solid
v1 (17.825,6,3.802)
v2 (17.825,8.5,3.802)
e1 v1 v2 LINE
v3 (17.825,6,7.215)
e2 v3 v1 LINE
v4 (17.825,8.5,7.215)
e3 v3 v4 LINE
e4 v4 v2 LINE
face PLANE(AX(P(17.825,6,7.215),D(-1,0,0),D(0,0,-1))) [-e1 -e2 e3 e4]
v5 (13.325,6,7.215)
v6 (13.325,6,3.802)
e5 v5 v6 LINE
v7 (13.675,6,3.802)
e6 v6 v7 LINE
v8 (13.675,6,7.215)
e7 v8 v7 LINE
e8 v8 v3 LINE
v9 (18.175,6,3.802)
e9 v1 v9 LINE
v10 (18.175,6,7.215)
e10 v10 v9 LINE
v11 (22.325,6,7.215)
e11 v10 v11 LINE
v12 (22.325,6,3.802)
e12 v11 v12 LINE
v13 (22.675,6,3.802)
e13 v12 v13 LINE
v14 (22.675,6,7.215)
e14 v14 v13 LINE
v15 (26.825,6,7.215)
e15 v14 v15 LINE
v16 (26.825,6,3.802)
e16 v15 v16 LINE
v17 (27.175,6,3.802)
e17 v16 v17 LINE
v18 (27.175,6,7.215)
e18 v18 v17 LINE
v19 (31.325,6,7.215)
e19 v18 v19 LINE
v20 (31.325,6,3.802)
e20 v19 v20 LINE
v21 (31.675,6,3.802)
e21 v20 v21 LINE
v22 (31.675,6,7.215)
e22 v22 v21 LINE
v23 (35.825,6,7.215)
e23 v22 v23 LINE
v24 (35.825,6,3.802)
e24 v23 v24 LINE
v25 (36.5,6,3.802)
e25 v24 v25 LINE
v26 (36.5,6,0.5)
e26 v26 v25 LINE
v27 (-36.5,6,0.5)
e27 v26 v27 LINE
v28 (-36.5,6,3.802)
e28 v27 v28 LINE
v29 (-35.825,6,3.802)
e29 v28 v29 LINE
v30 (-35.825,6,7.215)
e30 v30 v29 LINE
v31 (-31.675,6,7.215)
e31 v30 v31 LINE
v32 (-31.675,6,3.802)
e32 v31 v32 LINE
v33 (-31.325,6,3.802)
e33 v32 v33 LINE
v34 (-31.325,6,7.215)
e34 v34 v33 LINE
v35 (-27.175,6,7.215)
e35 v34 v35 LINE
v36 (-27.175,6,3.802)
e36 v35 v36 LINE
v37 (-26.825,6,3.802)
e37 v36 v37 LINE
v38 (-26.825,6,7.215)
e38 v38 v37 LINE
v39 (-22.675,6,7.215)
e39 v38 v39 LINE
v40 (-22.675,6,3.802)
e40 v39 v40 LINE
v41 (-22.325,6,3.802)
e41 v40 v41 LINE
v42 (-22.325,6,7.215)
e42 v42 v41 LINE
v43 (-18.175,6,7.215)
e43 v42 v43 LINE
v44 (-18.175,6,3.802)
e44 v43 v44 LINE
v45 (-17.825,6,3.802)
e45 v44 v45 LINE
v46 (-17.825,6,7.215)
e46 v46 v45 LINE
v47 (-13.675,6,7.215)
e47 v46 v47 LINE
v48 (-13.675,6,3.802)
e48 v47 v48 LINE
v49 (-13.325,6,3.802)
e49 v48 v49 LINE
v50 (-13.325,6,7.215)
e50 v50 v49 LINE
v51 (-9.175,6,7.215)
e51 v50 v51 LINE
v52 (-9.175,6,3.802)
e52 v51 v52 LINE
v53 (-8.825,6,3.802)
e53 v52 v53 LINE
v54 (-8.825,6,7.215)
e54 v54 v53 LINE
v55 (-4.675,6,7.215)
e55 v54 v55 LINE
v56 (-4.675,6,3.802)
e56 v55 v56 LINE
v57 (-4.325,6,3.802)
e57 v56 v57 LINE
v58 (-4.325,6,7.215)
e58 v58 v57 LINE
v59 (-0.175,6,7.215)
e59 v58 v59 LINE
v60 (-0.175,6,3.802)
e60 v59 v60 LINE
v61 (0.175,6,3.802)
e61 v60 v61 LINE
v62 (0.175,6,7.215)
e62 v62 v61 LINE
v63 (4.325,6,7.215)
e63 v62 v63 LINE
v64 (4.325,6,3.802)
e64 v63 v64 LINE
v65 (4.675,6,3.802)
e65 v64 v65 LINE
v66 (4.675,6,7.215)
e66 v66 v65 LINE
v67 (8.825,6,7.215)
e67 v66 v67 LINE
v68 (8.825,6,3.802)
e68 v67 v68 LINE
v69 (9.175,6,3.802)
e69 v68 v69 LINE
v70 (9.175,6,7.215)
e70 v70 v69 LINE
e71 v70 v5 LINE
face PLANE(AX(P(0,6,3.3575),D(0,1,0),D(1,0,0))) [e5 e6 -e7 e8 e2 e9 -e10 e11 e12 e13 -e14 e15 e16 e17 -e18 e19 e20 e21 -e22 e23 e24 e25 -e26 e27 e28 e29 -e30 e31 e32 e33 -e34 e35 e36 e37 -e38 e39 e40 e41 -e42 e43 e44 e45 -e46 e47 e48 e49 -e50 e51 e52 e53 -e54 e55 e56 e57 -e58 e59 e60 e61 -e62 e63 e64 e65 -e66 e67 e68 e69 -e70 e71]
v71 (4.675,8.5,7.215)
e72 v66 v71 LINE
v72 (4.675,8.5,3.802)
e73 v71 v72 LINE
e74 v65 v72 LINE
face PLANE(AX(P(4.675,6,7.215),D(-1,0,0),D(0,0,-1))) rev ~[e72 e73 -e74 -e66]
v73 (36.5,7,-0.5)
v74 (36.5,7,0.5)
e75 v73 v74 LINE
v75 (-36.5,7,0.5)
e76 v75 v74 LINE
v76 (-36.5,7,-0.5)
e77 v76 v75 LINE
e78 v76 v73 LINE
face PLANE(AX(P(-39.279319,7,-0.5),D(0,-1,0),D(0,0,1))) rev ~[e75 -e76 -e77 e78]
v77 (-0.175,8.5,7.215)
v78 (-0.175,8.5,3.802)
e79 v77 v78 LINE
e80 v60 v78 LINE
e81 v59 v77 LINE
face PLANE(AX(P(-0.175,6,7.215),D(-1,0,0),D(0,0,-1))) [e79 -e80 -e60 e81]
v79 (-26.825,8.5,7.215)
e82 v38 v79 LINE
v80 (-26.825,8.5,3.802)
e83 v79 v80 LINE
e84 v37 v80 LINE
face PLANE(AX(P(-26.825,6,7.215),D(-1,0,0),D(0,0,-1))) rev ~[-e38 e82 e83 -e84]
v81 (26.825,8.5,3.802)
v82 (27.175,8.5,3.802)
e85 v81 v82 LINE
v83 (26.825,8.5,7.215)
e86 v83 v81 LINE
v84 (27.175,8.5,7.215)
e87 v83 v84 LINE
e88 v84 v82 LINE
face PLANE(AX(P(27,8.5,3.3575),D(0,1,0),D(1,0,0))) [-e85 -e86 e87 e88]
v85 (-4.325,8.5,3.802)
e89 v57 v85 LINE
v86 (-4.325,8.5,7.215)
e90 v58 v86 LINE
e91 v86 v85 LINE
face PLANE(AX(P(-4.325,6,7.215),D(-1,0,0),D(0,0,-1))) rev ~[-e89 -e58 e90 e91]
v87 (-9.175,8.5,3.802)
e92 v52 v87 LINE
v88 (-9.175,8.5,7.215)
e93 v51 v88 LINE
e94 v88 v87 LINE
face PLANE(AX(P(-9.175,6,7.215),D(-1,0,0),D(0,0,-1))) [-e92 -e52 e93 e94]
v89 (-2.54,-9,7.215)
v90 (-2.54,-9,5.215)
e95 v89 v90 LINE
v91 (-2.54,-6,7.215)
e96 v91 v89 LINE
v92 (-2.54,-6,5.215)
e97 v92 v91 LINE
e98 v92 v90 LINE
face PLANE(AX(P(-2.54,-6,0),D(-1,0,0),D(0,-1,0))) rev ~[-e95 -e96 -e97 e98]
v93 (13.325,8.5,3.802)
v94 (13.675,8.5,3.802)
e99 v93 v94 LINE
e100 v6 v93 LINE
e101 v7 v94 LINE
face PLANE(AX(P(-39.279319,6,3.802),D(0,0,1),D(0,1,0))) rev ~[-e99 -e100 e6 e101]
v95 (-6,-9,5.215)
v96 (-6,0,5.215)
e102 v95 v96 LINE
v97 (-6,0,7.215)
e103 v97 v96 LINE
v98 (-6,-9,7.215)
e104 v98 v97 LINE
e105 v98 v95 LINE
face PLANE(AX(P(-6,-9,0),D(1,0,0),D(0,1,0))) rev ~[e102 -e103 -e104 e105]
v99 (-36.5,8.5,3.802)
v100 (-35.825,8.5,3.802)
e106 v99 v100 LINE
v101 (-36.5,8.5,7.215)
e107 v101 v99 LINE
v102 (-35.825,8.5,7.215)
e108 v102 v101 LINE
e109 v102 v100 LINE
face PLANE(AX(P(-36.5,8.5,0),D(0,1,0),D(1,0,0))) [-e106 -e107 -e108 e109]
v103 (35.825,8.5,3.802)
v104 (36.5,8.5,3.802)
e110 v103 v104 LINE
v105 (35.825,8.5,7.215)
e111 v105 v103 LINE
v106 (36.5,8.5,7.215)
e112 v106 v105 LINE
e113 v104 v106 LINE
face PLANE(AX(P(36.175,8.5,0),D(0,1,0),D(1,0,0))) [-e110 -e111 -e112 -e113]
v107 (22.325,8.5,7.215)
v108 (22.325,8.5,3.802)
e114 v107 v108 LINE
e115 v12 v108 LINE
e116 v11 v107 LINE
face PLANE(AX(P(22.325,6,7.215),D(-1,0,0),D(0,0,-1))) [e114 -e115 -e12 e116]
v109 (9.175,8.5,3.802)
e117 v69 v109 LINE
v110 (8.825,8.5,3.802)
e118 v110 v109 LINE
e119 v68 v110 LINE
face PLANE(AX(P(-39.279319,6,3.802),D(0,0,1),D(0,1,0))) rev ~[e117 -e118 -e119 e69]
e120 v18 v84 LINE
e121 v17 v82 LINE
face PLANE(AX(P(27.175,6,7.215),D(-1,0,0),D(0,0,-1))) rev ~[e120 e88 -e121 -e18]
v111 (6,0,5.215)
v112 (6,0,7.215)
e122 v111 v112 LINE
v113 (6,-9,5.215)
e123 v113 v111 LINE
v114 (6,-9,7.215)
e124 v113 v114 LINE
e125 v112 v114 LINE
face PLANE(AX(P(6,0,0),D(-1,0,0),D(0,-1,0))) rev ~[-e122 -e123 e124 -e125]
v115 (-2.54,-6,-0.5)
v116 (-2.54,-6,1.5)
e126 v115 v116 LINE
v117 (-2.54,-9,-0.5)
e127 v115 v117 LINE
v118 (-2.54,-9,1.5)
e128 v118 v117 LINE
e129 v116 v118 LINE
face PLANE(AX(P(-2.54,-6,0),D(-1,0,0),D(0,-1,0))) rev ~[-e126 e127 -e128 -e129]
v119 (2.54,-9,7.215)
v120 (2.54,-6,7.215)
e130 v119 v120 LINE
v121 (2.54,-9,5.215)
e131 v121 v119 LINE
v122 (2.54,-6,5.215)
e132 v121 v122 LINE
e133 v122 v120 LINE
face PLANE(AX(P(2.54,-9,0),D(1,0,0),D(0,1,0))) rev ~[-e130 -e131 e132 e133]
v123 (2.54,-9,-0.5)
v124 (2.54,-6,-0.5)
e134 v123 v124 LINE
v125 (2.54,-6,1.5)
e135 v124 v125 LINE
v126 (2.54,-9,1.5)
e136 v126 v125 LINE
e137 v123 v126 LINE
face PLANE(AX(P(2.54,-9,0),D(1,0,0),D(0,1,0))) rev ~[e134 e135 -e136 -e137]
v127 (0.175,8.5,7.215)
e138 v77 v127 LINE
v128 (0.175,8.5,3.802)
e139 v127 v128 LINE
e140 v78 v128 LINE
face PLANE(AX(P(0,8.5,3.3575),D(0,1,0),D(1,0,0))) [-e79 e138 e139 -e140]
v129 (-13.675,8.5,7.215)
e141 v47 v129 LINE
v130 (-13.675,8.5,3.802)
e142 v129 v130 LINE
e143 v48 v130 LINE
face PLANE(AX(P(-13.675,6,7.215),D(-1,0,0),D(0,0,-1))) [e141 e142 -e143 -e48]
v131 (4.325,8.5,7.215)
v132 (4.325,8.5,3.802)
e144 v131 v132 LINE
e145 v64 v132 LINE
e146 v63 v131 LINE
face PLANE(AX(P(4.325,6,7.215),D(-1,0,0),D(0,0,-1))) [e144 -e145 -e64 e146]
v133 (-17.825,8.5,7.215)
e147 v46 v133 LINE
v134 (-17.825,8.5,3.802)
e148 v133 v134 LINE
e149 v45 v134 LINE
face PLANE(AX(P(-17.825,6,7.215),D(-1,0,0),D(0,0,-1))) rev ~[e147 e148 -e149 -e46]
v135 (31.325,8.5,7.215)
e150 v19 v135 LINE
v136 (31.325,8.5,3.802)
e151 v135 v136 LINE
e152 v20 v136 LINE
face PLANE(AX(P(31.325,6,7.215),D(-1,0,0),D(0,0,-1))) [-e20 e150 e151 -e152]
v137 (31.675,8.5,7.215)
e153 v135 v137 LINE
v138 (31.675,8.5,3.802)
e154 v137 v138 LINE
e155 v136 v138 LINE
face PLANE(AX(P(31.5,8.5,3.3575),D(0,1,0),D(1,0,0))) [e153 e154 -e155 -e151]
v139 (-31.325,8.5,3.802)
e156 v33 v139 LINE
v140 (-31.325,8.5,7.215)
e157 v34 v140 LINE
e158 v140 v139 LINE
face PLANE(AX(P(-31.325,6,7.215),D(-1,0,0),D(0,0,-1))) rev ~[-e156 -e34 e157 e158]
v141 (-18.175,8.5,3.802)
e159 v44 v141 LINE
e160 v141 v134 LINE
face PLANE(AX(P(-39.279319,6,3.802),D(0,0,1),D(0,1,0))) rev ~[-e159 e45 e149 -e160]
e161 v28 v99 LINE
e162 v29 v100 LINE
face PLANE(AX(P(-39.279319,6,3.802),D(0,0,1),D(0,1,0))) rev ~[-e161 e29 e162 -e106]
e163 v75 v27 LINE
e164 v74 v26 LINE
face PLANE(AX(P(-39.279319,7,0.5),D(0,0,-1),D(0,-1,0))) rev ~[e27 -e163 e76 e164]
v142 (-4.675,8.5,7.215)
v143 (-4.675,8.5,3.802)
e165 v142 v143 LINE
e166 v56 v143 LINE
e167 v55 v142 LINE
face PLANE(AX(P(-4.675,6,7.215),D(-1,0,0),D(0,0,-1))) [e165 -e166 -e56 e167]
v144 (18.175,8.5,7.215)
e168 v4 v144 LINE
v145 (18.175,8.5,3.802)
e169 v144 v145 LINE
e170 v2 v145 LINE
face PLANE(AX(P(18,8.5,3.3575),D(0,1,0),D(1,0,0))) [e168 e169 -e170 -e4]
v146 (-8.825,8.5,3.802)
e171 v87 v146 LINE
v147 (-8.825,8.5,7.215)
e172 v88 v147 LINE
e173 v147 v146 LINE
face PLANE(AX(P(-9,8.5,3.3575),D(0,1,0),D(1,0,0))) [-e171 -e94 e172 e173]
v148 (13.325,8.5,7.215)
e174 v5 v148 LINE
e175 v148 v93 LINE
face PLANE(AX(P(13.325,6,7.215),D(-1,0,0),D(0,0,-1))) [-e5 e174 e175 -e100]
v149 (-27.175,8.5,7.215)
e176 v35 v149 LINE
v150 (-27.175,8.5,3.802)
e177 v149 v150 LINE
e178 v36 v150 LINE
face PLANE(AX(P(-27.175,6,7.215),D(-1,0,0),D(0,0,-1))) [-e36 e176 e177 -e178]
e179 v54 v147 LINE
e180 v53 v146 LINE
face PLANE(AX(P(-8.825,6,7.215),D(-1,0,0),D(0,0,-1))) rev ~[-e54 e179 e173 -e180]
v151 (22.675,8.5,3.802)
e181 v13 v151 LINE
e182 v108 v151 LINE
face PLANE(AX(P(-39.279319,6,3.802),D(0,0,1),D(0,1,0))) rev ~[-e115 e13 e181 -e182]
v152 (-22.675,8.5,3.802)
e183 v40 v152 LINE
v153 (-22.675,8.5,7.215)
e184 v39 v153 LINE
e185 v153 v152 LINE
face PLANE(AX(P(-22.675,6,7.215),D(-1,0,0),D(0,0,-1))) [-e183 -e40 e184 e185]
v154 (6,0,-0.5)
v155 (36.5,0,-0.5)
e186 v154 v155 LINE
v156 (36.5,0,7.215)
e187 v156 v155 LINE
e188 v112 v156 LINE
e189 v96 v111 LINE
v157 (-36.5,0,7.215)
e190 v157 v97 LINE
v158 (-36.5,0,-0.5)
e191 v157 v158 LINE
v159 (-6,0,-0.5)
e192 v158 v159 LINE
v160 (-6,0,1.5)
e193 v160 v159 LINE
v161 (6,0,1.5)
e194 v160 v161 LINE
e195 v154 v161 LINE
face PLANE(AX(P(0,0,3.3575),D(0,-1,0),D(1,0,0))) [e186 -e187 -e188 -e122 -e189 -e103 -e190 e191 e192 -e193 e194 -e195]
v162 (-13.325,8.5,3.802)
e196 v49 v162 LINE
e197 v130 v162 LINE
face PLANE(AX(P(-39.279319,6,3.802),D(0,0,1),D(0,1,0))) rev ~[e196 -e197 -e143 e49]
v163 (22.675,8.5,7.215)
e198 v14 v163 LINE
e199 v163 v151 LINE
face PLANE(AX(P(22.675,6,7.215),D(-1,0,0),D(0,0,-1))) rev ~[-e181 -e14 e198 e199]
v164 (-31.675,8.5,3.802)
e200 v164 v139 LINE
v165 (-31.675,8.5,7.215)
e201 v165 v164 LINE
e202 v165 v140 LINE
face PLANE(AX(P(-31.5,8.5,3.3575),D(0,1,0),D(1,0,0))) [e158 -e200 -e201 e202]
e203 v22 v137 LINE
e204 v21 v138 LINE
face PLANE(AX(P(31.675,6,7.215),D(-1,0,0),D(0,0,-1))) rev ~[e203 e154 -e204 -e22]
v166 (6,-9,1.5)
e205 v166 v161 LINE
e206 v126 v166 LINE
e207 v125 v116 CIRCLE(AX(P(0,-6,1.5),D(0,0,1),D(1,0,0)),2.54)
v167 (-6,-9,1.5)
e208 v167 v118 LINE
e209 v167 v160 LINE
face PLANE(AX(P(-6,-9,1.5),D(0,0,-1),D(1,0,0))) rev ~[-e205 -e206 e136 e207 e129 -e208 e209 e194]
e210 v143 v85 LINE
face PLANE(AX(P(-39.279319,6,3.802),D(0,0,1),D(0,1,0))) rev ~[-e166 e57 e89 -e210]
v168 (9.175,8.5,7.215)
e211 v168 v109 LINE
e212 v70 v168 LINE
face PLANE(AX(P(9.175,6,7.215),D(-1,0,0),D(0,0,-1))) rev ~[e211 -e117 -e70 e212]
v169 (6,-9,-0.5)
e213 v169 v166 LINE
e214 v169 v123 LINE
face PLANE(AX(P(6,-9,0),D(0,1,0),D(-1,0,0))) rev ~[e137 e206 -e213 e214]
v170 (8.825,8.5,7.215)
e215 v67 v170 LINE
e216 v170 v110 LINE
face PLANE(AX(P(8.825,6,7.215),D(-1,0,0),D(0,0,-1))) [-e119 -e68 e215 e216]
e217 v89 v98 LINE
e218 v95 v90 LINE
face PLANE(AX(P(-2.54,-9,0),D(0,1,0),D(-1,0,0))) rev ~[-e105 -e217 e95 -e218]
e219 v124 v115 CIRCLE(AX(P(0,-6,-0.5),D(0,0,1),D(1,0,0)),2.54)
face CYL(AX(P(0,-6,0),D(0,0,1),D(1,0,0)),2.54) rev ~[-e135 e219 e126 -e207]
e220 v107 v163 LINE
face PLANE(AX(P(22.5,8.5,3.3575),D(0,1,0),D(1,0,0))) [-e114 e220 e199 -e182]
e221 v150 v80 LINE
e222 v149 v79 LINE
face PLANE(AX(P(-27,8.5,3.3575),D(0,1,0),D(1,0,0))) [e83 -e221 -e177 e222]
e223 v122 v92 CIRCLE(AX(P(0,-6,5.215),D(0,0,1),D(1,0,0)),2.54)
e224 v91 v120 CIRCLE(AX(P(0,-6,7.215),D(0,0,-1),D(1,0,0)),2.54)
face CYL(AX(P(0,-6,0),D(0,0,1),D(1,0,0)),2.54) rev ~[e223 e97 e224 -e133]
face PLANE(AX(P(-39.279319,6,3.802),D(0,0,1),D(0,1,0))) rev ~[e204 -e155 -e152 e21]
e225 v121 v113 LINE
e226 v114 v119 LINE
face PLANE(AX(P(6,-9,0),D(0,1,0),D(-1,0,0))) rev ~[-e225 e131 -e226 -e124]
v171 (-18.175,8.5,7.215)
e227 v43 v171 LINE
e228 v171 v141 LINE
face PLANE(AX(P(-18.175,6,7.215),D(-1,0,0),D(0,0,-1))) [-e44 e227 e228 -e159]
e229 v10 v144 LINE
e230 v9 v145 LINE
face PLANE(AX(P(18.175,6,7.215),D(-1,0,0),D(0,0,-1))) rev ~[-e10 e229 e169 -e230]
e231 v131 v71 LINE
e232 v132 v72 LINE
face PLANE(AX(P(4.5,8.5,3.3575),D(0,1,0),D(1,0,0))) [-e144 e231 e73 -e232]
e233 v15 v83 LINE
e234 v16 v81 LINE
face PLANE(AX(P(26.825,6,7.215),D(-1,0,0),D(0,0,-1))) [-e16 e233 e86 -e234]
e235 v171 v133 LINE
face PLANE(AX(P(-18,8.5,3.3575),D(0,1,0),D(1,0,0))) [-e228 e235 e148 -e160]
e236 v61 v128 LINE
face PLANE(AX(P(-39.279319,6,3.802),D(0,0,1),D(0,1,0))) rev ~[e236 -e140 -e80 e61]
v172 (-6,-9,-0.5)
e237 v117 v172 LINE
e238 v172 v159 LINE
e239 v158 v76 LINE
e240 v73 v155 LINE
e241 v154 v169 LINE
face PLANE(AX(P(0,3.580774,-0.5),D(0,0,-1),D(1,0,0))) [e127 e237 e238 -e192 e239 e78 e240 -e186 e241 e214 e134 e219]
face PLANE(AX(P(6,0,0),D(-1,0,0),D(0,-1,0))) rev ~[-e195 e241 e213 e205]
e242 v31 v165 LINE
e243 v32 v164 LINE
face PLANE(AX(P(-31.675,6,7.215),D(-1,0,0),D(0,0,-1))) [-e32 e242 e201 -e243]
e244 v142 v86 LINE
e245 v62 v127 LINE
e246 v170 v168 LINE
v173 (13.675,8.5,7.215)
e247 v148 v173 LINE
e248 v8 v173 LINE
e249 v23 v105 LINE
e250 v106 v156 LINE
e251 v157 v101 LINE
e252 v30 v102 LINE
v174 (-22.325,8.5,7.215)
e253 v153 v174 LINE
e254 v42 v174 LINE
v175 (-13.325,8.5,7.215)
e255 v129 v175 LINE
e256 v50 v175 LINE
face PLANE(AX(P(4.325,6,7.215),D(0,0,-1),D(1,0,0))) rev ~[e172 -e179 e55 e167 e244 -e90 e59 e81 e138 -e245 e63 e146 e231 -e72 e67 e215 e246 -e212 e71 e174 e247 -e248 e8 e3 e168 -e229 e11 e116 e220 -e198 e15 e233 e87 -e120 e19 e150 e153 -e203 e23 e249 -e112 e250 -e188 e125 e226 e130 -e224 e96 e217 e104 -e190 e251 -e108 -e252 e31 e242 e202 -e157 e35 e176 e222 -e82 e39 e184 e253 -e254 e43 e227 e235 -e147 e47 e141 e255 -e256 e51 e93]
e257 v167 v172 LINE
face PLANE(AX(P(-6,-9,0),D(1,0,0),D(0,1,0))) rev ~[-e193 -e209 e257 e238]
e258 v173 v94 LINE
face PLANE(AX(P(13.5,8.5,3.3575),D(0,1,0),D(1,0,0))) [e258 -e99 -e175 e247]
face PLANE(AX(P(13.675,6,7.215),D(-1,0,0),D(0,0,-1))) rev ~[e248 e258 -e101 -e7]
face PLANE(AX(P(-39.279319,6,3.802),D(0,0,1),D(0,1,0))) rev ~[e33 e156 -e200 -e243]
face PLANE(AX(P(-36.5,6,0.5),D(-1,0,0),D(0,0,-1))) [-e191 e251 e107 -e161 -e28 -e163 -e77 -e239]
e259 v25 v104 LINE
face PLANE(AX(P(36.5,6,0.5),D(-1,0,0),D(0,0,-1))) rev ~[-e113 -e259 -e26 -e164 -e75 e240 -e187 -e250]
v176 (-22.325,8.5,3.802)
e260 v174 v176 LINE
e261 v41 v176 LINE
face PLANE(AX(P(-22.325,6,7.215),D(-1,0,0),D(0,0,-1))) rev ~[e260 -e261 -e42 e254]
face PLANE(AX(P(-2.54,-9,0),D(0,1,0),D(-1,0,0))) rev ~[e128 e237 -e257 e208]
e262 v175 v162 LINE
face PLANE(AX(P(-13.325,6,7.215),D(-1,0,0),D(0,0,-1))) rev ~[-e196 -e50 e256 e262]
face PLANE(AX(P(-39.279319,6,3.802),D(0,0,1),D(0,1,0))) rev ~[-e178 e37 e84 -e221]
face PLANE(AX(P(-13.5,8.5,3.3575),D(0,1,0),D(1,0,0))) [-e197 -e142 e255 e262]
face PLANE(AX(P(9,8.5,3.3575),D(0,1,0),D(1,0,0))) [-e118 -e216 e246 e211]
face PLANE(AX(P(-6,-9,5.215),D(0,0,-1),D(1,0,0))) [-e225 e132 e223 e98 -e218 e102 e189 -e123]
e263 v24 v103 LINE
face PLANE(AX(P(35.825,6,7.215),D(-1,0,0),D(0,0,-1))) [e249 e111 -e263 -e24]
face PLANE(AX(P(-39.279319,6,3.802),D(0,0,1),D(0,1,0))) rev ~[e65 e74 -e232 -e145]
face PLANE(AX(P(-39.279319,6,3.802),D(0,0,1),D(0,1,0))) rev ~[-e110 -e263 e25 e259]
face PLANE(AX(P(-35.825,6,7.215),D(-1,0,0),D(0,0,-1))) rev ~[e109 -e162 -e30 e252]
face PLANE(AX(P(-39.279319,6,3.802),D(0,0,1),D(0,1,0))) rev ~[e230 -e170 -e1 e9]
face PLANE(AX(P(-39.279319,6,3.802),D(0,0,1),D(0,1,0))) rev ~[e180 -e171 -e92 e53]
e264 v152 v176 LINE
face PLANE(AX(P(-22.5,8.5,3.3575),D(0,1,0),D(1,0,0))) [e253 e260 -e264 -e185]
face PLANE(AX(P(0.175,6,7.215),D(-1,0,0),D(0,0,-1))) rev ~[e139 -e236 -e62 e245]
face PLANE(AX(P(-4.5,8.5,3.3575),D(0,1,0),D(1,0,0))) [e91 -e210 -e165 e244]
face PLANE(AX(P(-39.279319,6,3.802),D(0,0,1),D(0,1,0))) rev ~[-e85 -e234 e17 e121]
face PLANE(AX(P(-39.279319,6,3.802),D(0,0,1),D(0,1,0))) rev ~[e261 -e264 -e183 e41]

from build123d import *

# Parameters (mm, degrees)
SKETCH1_W                       = 73
SKETCH1_H                       = 7.715
BOSS_EXTRUDE1_DEPTH             = 6
SKETCH2_W                       = 73
SKETCH2_H                       = 1
BOSS_EXTRUDE2_DEPTH             = 1
SKETCH3_W                       = 0.35
SKETCH3_H                       = 7.715
BOSS_EXTRUDE3_DEPTH             = 2.5
BOSS_EXTRUDE4_REACH             = 40.165
SKETCH4_W                       = 0.325
SKETCH4_H                       = 2.5
BOSS_EXTRUDE4_DIRECTION_2_REACH = 40.165
BOSS_EXTRUDE5_REACH             = 40.165
BOSS_EXTRUDE5_DIRECTION_2_REACH = 40.165
SKETCH6_W                       = 12
SKETCH6_H                       = 3.715
CUT_EXTRUDE1_DEPTH              = 9
CUT_EXTRUDE2_DEPTH              = 39.279318502
CUT_EXTRUDE2_DEPTH_BACK         = 39.279318502


with BuildPart() as part:
    # Sketch1 → Boss-Extrude1 (new body)
    with BuildSketch(Plane(origin=(0, 0, 0), x_dir=(1, 0, 0), z_dir=(0, 1, 0))):
        with Locations((0, -3.3575)):
            Rectangle(SKETCH1_W, SKETCH1_H)
    extrude(amount=BOSS_EXTRUDE1_DEPTH)

    # Sketch2 → Boss-Extrude2 (add)
    with BuildSketch(Plane(origin=(0, 6, 0), x_dir=(1, 0, 0), z_dir=(0, 1, 0))):
        Rectangle(SKETCH2_W, SKETCH2_H)
    extrude(amount=BOSS_EXTRUDE2_DEPTH)

    # Sketch3 → Boss-Extrude3 (add)
    with BuildSketch(Plane(origin=(0, 6, 0), x_dir=(1, 0, 0), z_dir=(0, 1, 0))):
        with Locations((4.5, -3.3575)):
            Rectangle(SKETCH3_W, SKETCH3_H)
        with Locations((0, -3.3575)):
            Rectangle(SKETCH3_W, SKETCH3_H)
        with Locations((9, -3.3575)):
            Rectangle(SKETCH3_W, SKETCH3_H)
        with Locations((13.5, -3.3575)):
            Rectangle(SKETCH3_W, SKETCH3_H)
        with Locations((18, -3.3575)):
            Rectangle(SKETCH3_W, SKETCH3_H)
        with Locations((22.5, -3.3575)):
            Rectangle(SKETCH3_W, SKETCH3_H)
        with Locations((27, -3.3575)):
            Rectangle(SKETCH3_W, SKETCH3_H)
        with Locations((31.5, -3.3575)):
            Rectangle(SKETCH3_W, SKETCH3_H)
        with Locations((36, -3.3575)):
            Rectangle(SKETCH3_W, SKETCH3_H)
        with Locations((-4.5, -3.3575)):
            Rectangle(SKETCH3_W, SKETCH3_H)
        with Locations((-9, -3.3575)):
            Rectangle(SKETCH3_W, SKETCH3_H)
        with Locations((-13.5, -3.3575)):
            Rectangle(SKETCH3_W, SKETCH3_H)
        with Locations((-18, -3.3575)):
            Rectangle(SKETCH3_W, SKETCH3_H)
        with Locations((-22.5, -3.3575)):
            Rectangle(SKETCH3_W, SKETCH3_H)
        with Locations((-27, -3.3575)):
            Rectangle(SKETCH3_W, SKETCH3_H)
        with Locations((-31.5, -3.3575)):
            Rectangle(SKETCH3_W, SKETCH3_H)
        with Locations((-36, -3.3575)):
            Rectangle(SKETCH3_W, SKETCH3_H)
    extrude(amount=BOSS_EXTRUDE3_DEPTH)

    # Boss-Extrude4: up to this face of the body (flat: up to its plane)
    boss_extrude4_end = Plane(part.part.faces().sort_by_distance((0, 3.139594259, 7.215))[0])
    # Sketch4 → Boss-Extrude4 (add, up to the picked face)
    with BuildSketch(Plane.XY, mode=Mode.PRIVATE) as boss_extrude4_sk1:
        with Locations((36.3375, 7.25)):
            Rectangle(SKETCH4_W, SKETCH4_H)
    boss_extrude4_tool1 = split(extrude(boss_extrude4_sk1.sketch, amount=BOSS_EXTRUDE4_REACH, mode=Mode.PRIVATE), bisect_by=boss_extrude4_end, keep=Keep.BOTH, mode=Mode.PRIVATE)
    # Sketch4 → Boss-Extrude4 (add, up to the picked face)
    with BuildSketch(Plane.XY, mode=Mode.PRIVATE) as boss_extrude4_sk2:
        with Locations((-36.3375, 7.25)):
            Rectangle(SKETCH4_W, SKETCH4_H)
    boss_extrude4_tool2 = split(extrude(boss_extrude4_sk2.sketch, amount=BOSS_EXTRUDE4_REACH, mode=Mode.PRIVATE), bisect_by=boss_extrude4_end, keep=Keep.BOTH, mode=Mode.PRIVATE)
    add(boss_extrude4_tool1.solids().sort_by(Axis((36.3375, 7.25, 0), (0, 0, 1)))[0])
    add(boss_extrude4_tool2.solids().sort_by(Axis((-36.3375, 7.25, 0), (0, 0, 1)))[0])

    # Boss-Extrude4 direction 2: up to this face of the body (flat: up to its plane)
    boss_extrude4_direction_2_end = Plane(part.part.faces().sort_by_distance((0, 3.572955234, -0.5))[0])
    # Sketch4 → Boss-Extrude4 direction 2 (add, up to the picked face)
    with BuildSketch(Plane.XY, mode=Mode.PRIVATE) as boss_extrude4_direction_2_sk1:
        with Locations((36.3375, 7.25)):
            Rectangle(SKETCH4_W, SKETCH4_H)
    boss_extrude4_direction_2_tool1 = split(extrude(boss_extrude4_direction_2_sk1.sketch, amount=-BOSS_EXTRUDE4_DIRECTION_2_REACH, mode=Mode.PRIVATE), bisect_by=boss_extrude4_direction_2_end, keep=Keep.BOTH, mode=Mode.PRIVATE)
    # Sketch4 → Boss-Extrude4 direction 2 (add, up to the picked face)
    with BuildSketch(Plane.XY, mode=Mode.PRIVATE) as boss_extrude4_direction_2_sk2:
        with Locations((-36.3375, 7.25)):
            Rectangle(SKETCH4_W, SKETCH4_H)
    boss_extrude4_direction_2_tool2 = split(extrude(boss_extrude4_direction_2_sk2.sketch, amount=-BOSS_EXTRUDE4_DIRECTION_2_REACH, mode=Mode.PRIVATE), bisect_by=boss_extrude4_direction_2_end, keep=Keep.BOTH, mode=Mode.PRIVATE)
    add(boss_extrude4_direction_2_tool1.solids().sort_by(Axis((36.3375, 7.25, 0), (0, 0, -1)))[0])
    add(boss_extrude4_direction_2_tool2.solids().sort_by(Axis((-36.3375, 7.25, 0), (0, 0, -1)))[0])

    # Boss-Extrude5: up to this face of the body (flat: up to its plane)
    boss_extrude5_end = Plane(part.part.faces().sort_by_distance((0, 3.154290429, 7.215))[0])
    # Sketch5 → Boss-Extrude5 (add, up to the picked face)
    with BuildSketch(Plane.XY, mode=Mode.PRIVATE) as boss_extrude5_sk1:
        with BuildLine():
            Line((-2.54, -6), (-2.54, -9))
            Line((-2.54, -9), (-6, -9))
            Line((-6, -9), (-6, 0))
            Line((-6, 0), (6, 0))
            Line((6, 0), (6, -9))
            Line((6, -9), (2.54, -9))
            Line((2.54, -9), (2.54, -6))
            ThreePointArc((2.54, -6), (0, -3.46), (-2.54, -6))
        make_face()
    boss_extrude5_tool1 = split(extrude(boss_extrude5_sk1.sketch, amount=BOSS_EXTRUDE5_REACH, mode=Mode.PRIVATE), bisect_by=boss_extrude5_end, keep=Keep.BOTH, mode=Mode.PRIVATE)
    add(boss_extrude5_tool1.solids().sort_by(Axis((-2.69, -7.5, 0), (0, 0, 1)))[0])

    # Boss-Extrude5 direction 2: up to this face of the body (flat: up to its plane)
    boss_extrude5_direction_2_end = Plane(part.part.faces().sort_by_distance((0, 3.580773661, -0.5))[0])
    # Sketch5 → Boss-Extrude5 direction 2 (add, up to the picked face)
    with BuildSketch(Plane.XY, mode=Mode.PRIVATE) as boss_extrude5_direction_2_sk1:
        with BuildLine():
            Line((-2.54, -6), (-2.54, -9))
            Line((-2.54, -9), (-6, -9))
            Line((-6, -9), (-6, 0))
            Line((-6, 0), (6, 0))
            Line((6, 0), (6, -9))
            Line((6, -9), (2.54, -9))
            Line((2.54, -9), (2.54, -6))
            ThreePointArc((2.54, -6), (0, -3.46), (-2.54, -6))
        make_face()
    boss_extrude5_direction_2_tool1 = split(extrude(boss_extrude5_direction_2_sk1.sketch, amount=-BOSS_EXTRUDE5_DIRECTION_2_REACH, mode=Mode.PRIVATE), bisect_by=boss_extrude5_direction_2_end, keep=Keep.BOTH, mode=Mode.PRIVATE)
    add(boss_extrude5_direction_2_tool1.solids().sort_by(Axis((-2.69, -7.5, 0), (0, 0, -1)))[0])

    # Sketch6 → Cut-Extrude1 (cut)
    with BuildSketch(Plane.XZ.offset(9)):
        with Locations((0, 3.3575)):
            Rectangle(SKETCH6_W, SKETCH6_H)
    extrude(amount=-CUT_EXTRUDE1_DEPTH, mode=Mode.SUBTRACT)

    # Sketch7 → Cut-Extrude2 (cut, two sides: drawn at the far end of the back side and taken through both)
    with BuildSketch(Plane(origin=(0, 0, 0), x_dir=(0, 0, -1), z_dir=(1, 0, 0)).offset(-CUT_EXTRUDE2_DEPTH_BACK)):
        Polygon((0.5, 7), (-0.5, 7), (-0.5, 6), (-3.802, 6), (-3.802, 8.5), (0.5, 8.5), align=None)
    extrude(amount=CUT_EXTRUDE2_DEPTH + CUT_EXTRUDE2_DEPTH_BACK, mode=Mode.SUBTRACT)


solid = part.part
